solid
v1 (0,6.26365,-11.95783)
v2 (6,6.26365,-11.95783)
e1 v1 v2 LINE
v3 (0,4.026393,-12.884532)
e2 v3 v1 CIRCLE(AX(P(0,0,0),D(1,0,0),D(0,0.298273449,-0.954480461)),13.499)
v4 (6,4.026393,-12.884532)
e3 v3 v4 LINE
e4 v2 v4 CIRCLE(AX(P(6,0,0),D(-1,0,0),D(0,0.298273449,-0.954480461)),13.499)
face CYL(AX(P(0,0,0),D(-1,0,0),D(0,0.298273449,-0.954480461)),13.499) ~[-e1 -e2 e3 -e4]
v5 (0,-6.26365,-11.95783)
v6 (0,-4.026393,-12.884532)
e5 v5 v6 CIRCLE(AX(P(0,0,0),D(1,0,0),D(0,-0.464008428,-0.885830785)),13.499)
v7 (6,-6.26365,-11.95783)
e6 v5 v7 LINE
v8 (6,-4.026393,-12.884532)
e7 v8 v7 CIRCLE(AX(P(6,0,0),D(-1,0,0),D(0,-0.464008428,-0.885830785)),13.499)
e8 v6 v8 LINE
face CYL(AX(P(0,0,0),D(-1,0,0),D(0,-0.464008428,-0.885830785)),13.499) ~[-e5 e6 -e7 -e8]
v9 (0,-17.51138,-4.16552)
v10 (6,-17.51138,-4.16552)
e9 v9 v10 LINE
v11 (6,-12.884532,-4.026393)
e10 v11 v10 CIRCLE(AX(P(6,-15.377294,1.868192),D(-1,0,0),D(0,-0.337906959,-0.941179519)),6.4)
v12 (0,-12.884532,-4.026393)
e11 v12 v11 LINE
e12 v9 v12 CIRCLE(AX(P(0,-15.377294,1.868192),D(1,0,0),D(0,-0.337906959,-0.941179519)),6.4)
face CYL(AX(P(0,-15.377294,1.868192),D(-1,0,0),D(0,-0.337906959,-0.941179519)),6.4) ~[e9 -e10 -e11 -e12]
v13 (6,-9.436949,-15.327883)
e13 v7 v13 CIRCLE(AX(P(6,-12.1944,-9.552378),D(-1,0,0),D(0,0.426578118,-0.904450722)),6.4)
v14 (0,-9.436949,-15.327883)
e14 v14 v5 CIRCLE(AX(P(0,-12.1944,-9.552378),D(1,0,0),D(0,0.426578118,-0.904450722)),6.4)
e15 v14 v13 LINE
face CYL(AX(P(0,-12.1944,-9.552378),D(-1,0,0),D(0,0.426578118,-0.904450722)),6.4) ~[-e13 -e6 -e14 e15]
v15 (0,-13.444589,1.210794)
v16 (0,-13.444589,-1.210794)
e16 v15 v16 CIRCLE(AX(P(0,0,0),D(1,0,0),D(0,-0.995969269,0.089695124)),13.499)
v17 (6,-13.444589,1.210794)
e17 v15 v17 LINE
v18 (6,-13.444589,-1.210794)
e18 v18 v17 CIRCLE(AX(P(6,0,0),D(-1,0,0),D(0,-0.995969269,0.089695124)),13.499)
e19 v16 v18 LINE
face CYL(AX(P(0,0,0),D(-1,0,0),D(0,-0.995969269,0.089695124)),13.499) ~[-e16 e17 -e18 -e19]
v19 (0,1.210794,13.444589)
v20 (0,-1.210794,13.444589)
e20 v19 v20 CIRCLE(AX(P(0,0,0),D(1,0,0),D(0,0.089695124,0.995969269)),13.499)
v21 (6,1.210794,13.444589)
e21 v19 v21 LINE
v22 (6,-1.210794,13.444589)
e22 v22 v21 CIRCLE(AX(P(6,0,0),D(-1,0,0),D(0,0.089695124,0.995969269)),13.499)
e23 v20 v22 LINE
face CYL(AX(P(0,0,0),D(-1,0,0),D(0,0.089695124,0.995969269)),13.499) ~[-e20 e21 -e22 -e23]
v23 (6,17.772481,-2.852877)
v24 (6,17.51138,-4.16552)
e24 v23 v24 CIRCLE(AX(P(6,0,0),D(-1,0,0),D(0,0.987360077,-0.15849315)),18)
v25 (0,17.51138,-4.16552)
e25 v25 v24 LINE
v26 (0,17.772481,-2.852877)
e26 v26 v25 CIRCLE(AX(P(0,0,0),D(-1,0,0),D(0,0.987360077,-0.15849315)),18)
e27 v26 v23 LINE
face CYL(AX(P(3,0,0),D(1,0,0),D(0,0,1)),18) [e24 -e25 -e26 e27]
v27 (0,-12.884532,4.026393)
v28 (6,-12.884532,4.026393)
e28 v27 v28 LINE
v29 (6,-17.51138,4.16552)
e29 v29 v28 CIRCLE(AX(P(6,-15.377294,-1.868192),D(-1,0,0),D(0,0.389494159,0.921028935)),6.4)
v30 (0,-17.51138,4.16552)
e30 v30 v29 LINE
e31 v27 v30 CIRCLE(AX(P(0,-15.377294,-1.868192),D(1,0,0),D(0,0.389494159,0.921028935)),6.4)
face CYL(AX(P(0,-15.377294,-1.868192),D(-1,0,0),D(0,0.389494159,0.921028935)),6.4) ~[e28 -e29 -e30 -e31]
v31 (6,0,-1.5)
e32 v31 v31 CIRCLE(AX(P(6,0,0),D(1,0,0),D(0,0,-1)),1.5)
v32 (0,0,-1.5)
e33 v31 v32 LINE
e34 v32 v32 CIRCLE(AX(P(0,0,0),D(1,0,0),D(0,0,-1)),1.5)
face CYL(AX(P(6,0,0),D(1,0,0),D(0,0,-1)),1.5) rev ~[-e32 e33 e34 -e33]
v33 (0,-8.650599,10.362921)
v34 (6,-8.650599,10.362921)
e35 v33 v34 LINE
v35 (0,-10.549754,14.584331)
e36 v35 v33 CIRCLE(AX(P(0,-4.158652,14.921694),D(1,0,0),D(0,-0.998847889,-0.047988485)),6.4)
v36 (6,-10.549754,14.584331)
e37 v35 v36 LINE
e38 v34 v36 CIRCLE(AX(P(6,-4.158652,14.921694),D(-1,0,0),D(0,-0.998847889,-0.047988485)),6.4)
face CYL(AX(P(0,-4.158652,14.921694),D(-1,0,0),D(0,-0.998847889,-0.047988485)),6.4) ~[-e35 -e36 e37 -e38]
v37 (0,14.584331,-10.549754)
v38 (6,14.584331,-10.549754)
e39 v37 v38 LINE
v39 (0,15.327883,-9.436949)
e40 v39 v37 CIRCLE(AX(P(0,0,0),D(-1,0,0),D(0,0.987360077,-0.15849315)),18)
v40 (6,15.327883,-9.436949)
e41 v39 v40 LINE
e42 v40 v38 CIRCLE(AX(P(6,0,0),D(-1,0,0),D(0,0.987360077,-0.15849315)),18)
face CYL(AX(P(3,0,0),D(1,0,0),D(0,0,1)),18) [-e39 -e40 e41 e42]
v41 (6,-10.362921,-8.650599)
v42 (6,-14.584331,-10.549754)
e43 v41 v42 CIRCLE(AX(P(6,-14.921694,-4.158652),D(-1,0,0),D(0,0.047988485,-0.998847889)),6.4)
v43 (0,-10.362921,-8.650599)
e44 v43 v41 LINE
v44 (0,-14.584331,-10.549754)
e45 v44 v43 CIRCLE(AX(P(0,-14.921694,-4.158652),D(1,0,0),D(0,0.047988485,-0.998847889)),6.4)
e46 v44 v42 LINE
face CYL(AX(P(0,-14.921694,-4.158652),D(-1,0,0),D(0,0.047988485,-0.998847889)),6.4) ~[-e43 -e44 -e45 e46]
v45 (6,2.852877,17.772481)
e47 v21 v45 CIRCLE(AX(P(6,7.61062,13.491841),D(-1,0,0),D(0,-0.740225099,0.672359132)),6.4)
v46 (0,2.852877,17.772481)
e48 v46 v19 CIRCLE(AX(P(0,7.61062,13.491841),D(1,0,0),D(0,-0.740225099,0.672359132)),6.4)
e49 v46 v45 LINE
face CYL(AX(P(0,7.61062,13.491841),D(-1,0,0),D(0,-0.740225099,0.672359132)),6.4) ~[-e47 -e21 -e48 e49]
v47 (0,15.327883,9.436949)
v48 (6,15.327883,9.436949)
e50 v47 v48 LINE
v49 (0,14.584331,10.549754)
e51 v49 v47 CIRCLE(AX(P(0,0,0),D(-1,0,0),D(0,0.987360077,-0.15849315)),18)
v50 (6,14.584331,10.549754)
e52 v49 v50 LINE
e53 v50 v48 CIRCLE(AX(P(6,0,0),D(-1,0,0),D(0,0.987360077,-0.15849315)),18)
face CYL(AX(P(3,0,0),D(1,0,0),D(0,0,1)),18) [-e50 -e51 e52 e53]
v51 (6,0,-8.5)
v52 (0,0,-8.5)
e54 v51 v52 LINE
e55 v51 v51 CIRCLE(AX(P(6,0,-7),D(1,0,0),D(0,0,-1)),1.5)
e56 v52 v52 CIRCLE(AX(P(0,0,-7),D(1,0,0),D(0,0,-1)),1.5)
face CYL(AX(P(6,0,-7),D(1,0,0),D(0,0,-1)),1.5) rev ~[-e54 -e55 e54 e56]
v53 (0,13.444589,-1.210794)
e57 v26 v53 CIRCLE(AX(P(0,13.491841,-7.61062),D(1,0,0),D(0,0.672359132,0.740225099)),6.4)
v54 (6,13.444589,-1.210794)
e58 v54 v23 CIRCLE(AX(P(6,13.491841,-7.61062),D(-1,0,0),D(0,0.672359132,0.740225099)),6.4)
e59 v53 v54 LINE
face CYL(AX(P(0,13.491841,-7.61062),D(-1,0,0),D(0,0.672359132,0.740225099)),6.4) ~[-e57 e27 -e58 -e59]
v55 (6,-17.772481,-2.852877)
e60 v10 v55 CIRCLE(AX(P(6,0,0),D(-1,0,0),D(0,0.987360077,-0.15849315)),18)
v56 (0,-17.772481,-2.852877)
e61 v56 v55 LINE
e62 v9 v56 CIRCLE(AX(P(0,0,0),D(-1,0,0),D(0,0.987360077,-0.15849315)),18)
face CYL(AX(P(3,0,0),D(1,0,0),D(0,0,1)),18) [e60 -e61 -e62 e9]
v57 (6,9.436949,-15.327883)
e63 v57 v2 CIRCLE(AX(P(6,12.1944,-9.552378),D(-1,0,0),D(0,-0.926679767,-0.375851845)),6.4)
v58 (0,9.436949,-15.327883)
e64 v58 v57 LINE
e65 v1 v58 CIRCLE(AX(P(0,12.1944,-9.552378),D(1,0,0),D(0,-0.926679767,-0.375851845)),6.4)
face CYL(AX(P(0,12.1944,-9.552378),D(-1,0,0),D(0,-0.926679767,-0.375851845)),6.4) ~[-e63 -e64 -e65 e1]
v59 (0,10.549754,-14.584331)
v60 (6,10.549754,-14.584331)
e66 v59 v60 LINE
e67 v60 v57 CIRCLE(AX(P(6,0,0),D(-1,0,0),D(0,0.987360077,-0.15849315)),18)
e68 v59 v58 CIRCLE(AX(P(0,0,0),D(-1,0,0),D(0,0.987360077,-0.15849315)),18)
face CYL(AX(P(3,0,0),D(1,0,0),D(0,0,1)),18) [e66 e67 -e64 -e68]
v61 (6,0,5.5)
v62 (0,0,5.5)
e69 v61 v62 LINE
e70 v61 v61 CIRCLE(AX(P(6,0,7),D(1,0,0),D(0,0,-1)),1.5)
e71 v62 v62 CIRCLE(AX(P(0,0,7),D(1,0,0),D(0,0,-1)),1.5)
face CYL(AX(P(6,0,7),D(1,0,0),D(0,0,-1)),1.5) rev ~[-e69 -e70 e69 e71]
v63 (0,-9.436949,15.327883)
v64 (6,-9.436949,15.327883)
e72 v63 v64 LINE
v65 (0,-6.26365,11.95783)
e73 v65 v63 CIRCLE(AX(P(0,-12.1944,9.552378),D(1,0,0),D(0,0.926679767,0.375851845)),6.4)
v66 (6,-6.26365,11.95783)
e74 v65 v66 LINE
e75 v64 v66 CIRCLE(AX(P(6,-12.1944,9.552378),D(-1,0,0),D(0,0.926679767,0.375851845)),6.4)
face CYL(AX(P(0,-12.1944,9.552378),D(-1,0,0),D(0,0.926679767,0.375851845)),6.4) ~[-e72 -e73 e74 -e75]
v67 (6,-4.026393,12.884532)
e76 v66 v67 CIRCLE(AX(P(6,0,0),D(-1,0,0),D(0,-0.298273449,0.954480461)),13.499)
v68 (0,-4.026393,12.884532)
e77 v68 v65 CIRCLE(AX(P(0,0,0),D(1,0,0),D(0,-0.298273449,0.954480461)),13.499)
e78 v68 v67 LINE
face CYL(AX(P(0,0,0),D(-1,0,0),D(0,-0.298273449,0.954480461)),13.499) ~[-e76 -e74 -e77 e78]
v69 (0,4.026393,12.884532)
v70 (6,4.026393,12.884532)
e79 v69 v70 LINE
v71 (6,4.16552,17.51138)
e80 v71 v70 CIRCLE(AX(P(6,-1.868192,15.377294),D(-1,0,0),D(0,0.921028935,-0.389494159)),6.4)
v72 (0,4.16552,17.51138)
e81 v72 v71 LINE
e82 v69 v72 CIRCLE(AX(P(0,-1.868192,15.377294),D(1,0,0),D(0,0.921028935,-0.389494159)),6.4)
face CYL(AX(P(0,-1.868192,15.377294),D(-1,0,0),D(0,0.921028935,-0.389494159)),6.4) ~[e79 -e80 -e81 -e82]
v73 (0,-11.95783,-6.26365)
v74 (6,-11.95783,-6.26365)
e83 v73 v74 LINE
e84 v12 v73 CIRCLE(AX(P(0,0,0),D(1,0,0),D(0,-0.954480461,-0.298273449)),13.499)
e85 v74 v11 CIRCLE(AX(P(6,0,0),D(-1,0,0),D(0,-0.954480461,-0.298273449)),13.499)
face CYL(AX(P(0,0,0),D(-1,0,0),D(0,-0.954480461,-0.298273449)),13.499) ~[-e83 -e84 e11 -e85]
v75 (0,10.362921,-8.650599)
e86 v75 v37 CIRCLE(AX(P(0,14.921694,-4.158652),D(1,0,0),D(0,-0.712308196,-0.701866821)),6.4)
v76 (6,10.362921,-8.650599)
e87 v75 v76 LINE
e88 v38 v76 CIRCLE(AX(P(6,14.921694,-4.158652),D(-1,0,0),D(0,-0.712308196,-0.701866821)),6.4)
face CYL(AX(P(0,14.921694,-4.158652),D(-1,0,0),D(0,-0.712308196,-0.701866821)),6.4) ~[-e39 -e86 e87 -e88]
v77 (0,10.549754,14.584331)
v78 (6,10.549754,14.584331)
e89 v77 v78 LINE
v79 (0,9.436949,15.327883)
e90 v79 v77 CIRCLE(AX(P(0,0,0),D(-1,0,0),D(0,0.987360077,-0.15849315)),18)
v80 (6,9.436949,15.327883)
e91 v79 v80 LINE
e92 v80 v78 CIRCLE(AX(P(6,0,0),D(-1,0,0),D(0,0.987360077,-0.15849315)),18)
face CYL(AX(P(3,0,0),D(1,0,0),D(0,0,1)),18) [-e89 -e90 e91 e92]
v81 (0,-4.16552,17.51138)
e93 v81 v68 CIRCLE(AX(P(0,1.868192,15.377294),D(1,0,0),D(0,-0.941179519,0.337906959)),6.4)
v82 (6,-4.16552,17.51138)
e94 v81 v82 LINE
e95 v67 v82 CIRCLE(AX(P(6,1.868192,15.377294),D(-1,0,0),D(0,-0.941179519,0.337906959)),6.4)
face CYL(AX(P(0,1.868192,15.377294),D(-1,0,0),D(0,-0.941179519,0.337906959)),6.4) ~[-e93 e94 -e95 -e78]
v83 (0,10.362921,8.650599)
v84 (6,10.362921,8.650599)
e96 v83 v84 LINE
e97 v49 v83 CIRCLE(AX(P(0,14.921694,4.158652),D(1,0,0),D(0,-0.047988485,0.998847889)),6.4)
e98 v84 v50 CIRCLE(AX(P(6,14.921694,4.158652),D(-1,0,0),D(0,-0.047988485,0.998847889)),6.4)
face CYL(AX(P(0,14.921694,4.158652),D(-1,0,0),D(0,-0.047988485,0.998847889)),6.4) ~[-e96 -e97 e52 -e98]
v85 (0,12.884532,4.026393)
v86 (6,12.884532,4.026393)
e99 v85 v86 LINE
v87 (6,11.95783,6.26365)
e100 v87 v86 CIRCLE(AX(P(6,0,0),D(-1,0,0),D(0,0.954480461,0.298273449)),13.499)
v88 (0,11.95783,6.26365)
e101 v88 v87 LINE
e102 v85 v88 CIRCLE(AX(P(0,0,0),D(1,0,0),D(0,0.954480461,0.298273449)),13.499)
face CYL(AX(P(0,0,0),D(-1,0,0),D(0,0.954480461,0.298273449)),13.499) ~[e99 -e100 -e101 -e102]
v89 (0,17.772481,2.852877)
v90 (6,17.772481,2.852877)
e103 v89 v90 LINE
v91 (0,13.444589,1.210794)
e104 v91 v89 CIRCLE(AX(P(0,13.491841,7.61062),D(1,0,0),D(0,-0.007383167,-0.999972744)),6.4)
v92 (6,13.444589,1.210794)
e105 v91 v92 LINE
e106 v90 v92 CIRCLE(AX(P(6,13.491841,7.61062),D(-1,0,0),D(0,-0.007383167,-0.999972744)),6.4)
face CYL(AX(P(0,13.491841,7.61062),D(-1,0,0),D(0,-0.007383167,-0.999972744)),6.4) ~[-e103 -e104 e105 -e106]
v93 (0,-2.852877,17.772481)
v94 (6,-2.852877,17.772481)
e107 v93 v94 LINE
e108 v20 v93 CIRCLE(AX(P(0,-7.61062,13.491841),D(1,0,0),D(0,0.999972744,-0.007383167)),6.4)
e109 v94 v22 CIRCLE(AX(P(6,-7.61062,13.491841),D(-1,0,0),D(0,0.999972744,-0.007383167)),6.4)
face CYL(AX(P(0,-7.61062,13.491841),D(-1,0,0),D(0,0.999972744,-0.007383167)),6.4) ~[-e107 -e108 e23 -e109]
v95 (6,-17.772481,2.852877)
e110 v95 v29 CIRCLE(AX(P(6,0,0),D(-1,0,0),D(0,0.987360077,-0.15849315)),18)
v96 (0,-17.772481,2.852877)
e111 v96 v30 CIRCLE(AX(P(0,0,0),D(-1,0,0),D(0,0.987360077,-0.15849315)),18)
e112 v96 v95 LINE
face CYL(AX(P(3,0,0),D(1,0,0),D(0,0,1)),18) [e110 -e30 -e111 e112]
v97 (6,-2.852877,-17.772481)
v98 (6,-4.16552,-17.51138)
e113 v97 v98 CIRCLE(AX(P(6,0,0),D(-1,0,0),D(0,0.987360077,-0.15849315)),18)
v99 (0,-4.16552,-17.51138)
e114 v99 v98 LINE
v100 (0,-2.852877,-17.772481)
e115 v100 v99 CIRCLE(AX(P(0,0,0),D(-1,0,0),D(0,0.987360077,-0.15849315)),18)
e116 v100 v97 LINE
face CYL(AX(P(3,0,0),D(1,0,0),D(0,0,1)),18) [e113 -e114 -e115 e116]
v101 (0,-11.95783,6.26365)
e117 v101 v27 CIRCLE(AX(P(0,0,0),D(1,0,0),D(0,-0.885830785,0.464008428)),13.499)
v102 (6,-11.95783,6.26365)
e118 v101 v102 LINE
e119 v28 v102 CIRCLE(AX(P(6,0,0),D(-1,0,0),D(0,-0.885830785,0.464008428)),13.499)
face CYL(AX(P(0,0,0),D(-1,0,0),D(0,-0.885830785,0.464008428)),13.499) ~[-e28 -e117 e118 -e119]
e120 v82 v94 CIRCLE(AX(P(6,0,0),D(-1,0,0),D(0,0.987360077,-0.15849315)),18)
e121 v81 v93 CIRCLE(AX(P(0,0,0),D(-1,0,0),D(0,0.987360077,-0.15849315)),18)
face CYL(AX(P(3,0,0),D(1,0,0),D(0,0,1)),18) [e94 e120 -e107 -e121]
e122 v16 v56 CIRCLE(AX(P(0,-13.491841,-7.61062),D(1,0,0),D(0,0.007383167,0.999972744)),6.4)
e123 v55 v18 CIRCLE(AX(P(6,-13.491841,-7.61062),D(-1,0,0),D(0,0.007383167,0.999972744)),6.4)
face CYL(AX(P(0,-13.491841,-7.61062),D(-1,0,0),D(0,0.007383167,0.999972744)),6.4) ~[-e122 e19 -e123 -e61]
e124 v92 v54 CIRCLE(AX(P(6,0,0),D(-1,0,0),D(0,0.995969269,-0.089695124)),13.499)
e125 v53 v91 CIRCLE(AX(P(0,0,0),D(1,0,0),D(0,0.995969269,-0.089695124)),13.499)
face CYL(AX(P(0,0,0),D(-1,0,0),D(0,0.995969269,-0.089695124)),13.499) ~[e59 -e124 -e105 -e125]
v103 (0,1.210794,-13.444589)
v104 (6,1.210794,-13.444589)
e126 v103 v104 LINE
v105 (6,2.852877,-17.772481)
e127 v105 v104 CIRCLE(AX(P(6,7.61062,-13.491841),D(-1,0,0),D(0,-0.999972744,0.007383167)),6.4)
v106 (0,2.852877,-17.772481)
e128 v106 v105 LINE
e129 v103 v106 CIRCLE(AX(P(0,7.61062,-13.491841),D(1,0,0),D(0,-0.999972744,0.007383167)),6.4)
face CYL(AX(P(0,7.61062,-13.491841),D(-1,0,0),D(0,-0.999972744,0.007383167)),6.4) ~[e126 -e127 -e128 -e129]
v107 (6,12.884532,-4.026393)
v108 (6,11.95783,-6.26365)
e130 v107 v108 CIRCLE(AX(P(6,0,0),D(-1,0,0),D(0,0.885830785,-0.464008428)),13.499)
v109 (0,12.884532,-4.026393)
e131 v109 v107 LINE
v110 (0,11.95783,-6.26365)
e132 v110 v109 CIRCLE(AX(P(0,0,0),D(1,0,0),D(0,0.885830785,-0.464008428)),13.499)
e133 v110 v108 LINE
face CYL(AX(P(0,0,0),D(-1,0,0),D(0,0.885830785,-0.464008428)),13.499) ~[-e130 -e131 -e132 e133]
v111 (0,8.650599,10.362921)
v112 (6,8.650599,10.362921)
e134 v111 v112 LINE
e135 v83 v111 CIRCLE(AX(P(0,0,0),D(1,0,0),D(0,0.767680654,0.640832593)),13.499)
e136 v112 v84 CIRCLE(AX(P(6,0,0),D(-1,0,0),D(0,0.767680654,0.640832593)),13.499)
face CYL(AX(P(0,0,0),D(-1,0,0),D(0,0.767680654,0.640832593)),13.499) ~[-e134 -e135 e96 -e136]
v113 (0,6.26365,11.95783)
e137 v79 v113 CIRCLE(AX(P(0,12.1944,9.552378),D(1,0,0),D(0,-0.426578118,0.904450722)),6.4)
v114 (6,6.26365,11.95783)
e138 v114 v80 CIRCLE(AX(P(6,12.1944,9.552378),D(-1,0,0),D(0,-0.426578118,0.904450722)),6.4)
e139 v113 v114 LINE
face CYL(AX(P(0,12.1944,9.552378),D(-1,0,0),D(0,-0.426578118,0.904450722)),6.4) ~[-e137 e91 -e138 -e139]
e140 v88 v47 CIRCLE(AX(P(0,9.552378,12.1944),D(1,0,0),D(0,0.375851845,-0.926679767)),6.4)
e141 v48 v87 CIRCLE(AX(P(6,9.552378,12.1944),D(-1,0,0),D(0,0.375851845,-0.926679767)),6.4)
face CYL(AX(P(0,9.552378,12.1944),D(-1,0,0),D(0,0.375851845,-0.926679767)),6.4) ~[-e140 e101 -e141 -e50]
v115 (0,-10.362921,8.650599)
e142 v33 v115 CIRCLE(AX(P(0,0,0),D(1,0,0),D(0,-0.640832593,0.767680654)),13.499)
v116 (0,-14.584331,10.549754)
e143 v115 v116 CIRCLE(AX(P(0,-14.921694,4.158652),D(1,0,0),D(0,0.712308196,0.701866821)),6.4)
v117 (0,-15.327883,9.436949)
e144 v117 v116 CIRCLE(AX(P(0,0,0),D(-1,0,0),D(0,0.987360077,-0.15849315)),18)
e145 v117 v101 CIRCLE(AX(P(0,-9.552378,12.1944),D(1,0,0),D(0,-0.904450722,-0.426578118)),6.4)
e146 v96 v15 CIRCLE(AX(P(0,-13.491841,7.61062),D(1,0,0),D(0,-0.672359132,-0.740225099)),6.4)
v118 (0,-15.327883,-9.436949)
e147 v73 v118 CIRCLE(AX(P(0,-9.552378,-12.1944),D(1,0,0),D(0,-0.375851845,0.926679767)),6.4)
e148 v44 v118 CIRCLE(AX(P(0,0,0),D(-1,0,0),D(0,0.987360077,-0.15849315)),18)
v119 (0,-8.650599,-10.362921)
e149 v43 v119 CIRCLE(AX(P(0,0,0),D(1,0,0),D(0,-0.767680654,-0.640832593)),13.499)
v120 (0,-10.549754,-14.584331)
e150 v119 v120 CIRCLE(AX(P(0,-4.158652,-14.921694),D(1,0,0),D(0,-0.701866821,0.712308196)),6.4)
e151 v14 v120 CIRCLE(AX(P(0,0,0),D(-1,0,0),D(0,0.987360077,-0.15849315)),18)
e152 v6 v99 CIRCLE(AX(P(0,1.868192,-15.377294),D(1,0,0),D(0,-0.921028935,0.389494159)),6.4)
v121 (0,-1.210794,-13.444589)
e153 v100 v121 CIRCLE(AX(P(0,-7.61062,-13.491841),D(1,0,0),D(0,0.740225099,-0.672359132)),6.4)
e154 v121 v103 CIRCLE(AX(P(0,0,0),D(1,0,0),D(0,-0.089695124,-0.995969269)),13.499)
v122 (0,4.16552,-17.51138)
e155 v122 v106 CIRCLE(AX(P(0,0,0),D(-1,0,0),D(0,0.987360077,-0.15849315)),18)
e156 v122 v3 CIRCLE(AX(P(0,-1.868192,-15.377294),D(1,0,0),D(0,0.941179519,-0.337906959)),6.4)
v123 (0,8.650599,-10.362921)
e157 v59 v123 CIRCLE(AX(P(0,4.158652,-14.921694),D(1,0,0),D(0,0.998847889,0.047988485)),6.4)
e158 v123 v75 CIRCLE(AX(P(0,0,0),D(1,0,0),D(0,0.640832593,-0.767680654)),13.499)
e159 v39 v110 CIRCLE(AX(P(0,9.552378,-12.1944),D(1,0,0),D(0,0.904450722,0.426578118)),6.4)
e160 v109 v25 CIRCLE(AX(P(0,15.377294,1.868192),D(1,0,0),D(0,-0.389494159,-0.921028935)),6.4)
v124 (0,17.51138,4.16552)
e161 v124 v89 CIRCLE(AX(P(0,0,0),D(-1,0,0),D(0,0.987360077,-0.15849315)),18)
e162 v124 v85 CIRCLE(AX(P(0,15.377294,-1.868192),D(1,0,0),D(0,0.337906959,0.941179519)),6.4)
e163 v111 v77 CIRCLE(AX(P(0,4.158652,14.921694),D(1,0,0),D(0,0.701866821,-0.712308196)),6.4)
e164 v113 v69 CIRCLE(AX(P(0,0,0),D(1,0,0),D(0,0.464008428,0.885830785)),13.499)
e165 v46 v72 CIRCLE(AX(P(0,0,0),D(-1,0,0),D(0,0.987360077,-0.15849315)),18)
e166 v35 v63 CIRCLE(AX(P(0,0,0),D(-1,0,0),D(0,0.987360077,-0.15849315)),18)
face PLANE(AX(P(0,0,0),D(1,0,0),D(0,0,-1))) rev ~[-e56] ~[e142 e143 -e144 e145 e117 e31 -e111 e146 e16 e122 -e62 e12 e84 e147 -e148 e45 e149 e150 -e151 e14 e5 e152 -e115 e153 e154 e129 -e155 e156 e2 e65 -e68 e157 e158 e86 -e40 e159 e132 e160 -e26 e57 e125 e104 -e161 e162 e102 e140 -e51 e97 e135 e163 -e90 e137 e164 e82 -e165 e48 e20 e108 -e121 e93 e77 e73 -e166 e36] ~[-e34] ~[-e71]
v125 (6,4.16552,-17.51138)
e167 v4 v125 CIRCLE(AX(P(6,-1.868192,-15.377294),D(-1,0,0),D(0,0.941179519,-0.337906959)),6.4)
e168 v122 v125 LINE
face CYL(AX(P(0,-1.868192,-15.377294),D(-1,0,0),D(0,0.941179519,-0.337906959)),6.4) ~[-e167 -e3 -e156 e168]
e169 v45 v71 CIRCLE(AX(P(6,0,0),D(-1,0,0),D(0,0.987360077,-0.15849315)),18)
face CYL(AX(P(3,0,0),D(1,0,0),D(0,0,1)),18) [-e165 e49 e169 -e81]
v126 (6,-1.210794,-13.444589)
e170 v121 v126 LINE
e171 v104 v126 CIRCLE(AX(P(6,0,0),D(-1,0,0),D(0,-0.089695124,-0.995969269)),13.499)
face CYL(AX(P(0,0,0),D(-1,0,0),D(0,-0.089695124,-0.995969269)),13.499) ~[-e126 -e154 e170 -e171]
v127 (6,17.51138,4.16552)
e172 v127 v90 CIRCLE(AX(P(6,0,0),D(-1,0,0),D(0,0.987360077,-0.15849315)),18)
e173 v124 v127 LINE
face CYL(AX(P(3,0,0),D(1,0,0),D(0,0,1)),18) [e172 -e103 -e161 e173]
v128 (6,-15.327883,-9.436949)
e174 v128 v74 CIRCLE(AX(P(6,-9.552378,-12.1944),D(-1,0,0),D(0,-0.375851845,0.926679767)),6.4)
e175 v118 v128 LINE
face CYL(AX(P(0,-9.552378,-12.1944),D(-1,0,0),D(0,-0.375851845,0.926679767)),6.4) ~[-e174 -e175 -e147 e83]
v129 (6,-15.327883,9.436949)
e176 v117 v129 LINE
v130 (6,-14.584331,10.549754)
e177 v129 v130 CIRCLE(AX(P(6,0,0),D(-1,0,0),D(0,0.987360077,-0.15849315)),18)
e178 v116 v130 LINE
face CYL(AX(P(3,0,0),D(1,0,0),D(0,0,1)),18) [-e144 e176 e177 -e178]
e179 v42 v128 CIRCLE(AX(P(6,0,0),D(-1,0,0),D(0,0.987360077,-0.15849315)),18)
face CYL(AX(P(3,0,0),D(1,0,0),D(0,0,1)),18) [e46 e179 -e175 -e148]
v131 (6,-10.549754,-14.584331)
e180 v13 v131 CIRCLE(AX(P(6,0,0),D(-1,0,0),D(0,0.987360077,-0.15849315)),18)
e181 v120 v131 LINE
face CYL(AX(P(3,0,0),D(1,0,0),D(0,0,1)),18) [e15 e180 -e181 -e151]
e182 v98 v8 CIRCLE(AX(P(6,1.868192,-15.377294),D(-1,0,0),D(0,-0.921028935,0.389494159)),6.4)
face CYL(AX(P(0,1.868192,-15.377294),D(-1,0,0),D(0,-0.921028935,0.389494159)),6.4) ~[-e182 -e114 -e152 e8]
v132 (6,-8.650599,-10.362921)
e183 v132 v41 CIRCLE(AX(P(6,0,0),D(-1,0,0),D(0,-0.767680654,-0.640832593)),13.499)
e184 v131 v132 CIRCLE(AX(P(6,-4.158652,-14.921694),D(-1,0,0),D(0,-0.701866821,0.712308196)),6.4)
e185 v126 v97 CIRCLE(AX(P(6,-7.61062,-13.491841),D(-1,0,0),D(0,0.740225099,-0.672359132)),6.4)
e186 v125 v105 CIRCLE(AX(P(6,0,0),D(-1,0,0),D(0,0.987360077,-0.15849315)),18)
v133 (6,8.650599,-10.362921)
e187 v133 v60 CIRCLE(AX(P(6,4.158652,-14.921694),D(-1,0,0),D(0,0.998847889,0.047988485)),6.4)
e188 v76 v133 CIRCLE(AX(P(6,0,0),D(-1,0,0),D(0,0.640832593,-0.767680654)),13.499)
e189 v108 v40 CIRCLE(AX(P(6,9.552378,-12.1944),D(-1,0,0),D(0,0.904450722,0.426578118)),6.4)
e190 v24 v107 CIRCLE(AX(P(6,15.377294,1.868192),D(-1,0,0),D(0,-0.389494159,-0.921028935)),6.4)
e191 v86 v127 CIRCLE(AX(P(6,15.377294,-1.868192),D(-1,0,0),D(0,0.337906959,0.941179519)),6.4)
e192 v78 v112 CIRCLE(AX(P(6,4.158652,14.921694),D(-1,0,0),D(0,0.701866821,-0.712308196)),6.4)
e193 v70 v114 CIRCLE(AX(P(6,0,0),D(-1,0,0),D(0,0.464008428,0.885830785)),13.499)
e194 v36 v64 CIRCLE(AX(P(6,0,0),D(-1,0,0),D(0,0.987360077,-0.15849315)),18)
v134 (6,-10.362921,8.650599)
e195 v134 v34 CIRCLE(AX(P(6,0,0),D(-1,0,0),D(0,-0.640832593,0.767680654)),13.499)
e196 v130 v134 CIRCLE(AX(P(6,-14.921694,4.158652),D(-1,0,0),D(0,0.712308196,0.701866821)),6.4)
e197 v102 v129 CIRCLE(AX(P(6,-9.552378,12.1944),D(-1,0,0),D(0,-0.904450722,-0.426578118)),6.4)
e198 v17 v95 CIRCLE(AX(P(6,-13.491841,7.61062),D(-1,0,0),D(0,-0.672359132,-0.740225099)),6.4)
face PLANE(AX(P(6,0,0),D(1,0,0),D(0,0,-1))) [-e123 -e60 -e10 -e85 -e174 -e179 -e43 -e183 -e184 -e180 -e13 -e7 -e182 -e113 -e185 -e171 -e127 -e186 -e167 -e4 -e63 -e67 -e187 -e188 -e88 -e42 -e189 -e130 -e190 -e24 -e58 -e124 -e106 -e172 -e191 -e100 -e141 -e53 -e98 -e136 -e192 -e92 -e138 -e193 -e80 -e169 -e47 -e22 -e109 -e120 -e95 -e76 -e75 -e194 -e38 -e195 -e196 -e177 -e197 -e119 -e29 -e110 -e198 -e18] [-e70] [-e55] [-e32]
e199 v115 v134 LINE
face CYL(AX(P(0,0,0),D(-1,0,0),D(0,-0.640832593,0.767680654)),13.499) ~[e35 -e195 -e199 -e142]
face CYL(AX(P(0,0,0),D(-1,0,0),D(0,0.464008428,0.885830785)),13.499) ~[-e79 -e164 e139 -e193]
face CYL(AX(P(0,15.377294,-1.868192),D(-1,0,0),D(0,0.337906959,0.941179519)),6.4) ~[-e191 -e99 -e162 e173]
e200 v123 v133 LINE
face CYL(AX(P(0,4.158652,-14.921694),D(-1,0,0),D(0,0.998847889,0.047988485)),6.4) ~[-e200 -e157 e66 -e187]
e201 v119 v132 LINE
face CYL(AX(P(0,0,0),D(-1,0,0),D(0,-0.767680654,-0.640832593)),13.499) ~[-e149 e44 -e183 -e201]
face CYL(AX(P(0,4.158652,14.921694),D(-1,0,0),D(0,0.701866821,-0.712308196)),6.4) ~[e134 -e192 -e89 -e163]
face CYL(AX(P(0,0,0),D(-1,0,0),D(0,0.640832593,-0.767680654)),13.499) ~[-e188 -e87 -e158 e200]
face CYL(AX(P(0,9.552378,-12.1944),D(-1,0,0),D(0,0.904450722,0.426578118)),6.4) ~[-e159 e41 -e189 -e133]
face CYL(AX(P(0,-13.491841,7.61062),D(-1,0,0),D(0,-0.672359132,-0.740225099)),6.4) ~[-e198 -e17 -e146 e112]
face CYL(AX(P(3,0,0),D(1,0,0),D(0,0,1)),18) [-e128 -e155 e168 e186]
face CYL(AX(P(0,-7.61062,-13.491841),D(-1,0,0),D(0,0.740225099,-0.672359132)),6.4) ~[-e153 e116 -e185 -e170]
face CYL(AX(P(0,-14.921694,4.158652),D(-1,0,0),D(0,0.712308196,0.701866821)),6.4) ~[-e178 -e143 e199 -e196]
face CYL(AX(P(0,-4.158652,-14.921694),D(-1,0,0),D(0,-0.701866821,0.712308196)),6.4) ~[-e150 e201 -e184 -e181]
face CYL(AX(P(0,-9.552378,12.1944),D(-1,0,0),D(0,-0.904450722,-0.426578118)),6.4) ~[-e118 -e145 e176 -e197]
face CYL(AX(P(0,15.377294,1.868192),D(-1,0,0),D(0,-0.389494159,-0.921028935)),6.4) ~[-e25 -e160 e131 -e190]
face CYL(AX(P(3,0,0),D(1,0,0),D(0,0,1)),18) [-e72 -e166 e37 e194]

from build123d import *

# Parameters (mm, degrees)
BASPROSKE_W             = 6
BASPROSKE_H             = 18
TOOTHCUT_DEPTH          = 27.153393661
TEETHCUTS_COUNT         = 16
TEETHCUTS_ANGLE         = 337.5
BORSKE_R                = 4
BORE_DEPTH              = 50.0000508
CROQUIS1_R              = 4
CROQUIS1_R_2            = 1.5
SALIENTE_EXTRUIR1_DEPTH = 6
CROQUIS2_R              = 1.5
CORTAR_EXTRUIR1_DEPTH   = 6


with BuildPart() as part:
    # BasProSke → Base-Revolve (revolve)
    with BuildSketch(Plane(origin=(0, 0, 0), x_dir=(1, 0, 0), z_dir=(0, 1, 0)), mode=Mode.PRIVATE) as base_revolve_sk:
        with Locations((3, 9)):
            Rectangle(BASPROSKE_W, BASPROSKE_H)
    revolve(base_revolve_sk.sketch.rotate(Axis((-10, 0, 0), (1, 0, 0)), 180), axis=Axis((-10, 0, 0), (1, 0, 0)))

    # TooCutSke → ToothCut (cut, through all)
    with BuildSketch(Plane(origin=(0, 0, 0), x_dir=(0, 0, -1), z_dir=(1, 0, 0))):
        with BuildLine():
            ThreePointArc((1.210794474, 13.444589162), (0, 13.499), (-1.210794474, 13.444589162))
            ThreePointArc((-1.210794474, 13.444589162), (-1.632237109, 15.776340848), (-2.873179402, 17.794939879))
            ThreePointArc((-2.873179402, 17.794939879), (0, 18.0254), (2.873179402, 17.794939879))
            ThreePointArc((2.873179402, 17.794939879), (1.632237109, 15.776340848), (1.210794474, 13.444589162))
        make_face()
    toothcut = extrude(amount=TOOTHCUT_DEPTH, mode=Mode.SUBTRACT)

    # TeethCuts: ToothCut ×16 about axis
    teethcuts_axis = Axis((-10, 0, 0), (1, 0, 0))
    for i in range(1, TEETHCUTS_COUNT):
        add(toothcut.rotate(teethcuts_axis, i * TEETHCUTS_ANGLE / (TEETHCUTS_COUNT - 1)), mode=Mode.SUBTRACT)

    # BorSke → Bore (cut, symmetric)
    with BuildSketch(Plane(origin=(0, 0, 0), x_dir=(0, 0, -1), z_dir=(1, 0, 0))):
        with Locations(Location((0, 0, 0), (0, 0, 180))):
            Circle(BORSKE_R)
    extrude(amount=BORE_DEPTH, both=True, mode=Mode.SUBTRACT)

    # Croquis1 → Saliente-Extruir1 (add)
    with BuildSketch(Plane(origin=(6, 0, 0), x_dir=(0, 0, -1), z_dir=(1, 0, 0))):
        Circle(CROQUIS1_R)
        Circle(CROQUIS1_R_2, mode=Mode.SUBTRACT)
    extrude(amount=-SALIENTE_EXTRUIR1_DEPTH)

    # Croquis2 → Cortar-Extruir1 (cut)
    with BuildSketch(Plane(origin=(6, 0, 0), x_dir=(0, 0, -1), z_dir=(1, 0, 0))):
        with Locations((-7, 0)):
            Circle(CROQUIS2_R)
        with Locations((7, 0)):
            Circle(CROQUIS2_R)
    extrude(amount=-CORTAR_EXTRUIR1_DEPTH, mode=Mode.SUBTRACT)


solid = part.part
